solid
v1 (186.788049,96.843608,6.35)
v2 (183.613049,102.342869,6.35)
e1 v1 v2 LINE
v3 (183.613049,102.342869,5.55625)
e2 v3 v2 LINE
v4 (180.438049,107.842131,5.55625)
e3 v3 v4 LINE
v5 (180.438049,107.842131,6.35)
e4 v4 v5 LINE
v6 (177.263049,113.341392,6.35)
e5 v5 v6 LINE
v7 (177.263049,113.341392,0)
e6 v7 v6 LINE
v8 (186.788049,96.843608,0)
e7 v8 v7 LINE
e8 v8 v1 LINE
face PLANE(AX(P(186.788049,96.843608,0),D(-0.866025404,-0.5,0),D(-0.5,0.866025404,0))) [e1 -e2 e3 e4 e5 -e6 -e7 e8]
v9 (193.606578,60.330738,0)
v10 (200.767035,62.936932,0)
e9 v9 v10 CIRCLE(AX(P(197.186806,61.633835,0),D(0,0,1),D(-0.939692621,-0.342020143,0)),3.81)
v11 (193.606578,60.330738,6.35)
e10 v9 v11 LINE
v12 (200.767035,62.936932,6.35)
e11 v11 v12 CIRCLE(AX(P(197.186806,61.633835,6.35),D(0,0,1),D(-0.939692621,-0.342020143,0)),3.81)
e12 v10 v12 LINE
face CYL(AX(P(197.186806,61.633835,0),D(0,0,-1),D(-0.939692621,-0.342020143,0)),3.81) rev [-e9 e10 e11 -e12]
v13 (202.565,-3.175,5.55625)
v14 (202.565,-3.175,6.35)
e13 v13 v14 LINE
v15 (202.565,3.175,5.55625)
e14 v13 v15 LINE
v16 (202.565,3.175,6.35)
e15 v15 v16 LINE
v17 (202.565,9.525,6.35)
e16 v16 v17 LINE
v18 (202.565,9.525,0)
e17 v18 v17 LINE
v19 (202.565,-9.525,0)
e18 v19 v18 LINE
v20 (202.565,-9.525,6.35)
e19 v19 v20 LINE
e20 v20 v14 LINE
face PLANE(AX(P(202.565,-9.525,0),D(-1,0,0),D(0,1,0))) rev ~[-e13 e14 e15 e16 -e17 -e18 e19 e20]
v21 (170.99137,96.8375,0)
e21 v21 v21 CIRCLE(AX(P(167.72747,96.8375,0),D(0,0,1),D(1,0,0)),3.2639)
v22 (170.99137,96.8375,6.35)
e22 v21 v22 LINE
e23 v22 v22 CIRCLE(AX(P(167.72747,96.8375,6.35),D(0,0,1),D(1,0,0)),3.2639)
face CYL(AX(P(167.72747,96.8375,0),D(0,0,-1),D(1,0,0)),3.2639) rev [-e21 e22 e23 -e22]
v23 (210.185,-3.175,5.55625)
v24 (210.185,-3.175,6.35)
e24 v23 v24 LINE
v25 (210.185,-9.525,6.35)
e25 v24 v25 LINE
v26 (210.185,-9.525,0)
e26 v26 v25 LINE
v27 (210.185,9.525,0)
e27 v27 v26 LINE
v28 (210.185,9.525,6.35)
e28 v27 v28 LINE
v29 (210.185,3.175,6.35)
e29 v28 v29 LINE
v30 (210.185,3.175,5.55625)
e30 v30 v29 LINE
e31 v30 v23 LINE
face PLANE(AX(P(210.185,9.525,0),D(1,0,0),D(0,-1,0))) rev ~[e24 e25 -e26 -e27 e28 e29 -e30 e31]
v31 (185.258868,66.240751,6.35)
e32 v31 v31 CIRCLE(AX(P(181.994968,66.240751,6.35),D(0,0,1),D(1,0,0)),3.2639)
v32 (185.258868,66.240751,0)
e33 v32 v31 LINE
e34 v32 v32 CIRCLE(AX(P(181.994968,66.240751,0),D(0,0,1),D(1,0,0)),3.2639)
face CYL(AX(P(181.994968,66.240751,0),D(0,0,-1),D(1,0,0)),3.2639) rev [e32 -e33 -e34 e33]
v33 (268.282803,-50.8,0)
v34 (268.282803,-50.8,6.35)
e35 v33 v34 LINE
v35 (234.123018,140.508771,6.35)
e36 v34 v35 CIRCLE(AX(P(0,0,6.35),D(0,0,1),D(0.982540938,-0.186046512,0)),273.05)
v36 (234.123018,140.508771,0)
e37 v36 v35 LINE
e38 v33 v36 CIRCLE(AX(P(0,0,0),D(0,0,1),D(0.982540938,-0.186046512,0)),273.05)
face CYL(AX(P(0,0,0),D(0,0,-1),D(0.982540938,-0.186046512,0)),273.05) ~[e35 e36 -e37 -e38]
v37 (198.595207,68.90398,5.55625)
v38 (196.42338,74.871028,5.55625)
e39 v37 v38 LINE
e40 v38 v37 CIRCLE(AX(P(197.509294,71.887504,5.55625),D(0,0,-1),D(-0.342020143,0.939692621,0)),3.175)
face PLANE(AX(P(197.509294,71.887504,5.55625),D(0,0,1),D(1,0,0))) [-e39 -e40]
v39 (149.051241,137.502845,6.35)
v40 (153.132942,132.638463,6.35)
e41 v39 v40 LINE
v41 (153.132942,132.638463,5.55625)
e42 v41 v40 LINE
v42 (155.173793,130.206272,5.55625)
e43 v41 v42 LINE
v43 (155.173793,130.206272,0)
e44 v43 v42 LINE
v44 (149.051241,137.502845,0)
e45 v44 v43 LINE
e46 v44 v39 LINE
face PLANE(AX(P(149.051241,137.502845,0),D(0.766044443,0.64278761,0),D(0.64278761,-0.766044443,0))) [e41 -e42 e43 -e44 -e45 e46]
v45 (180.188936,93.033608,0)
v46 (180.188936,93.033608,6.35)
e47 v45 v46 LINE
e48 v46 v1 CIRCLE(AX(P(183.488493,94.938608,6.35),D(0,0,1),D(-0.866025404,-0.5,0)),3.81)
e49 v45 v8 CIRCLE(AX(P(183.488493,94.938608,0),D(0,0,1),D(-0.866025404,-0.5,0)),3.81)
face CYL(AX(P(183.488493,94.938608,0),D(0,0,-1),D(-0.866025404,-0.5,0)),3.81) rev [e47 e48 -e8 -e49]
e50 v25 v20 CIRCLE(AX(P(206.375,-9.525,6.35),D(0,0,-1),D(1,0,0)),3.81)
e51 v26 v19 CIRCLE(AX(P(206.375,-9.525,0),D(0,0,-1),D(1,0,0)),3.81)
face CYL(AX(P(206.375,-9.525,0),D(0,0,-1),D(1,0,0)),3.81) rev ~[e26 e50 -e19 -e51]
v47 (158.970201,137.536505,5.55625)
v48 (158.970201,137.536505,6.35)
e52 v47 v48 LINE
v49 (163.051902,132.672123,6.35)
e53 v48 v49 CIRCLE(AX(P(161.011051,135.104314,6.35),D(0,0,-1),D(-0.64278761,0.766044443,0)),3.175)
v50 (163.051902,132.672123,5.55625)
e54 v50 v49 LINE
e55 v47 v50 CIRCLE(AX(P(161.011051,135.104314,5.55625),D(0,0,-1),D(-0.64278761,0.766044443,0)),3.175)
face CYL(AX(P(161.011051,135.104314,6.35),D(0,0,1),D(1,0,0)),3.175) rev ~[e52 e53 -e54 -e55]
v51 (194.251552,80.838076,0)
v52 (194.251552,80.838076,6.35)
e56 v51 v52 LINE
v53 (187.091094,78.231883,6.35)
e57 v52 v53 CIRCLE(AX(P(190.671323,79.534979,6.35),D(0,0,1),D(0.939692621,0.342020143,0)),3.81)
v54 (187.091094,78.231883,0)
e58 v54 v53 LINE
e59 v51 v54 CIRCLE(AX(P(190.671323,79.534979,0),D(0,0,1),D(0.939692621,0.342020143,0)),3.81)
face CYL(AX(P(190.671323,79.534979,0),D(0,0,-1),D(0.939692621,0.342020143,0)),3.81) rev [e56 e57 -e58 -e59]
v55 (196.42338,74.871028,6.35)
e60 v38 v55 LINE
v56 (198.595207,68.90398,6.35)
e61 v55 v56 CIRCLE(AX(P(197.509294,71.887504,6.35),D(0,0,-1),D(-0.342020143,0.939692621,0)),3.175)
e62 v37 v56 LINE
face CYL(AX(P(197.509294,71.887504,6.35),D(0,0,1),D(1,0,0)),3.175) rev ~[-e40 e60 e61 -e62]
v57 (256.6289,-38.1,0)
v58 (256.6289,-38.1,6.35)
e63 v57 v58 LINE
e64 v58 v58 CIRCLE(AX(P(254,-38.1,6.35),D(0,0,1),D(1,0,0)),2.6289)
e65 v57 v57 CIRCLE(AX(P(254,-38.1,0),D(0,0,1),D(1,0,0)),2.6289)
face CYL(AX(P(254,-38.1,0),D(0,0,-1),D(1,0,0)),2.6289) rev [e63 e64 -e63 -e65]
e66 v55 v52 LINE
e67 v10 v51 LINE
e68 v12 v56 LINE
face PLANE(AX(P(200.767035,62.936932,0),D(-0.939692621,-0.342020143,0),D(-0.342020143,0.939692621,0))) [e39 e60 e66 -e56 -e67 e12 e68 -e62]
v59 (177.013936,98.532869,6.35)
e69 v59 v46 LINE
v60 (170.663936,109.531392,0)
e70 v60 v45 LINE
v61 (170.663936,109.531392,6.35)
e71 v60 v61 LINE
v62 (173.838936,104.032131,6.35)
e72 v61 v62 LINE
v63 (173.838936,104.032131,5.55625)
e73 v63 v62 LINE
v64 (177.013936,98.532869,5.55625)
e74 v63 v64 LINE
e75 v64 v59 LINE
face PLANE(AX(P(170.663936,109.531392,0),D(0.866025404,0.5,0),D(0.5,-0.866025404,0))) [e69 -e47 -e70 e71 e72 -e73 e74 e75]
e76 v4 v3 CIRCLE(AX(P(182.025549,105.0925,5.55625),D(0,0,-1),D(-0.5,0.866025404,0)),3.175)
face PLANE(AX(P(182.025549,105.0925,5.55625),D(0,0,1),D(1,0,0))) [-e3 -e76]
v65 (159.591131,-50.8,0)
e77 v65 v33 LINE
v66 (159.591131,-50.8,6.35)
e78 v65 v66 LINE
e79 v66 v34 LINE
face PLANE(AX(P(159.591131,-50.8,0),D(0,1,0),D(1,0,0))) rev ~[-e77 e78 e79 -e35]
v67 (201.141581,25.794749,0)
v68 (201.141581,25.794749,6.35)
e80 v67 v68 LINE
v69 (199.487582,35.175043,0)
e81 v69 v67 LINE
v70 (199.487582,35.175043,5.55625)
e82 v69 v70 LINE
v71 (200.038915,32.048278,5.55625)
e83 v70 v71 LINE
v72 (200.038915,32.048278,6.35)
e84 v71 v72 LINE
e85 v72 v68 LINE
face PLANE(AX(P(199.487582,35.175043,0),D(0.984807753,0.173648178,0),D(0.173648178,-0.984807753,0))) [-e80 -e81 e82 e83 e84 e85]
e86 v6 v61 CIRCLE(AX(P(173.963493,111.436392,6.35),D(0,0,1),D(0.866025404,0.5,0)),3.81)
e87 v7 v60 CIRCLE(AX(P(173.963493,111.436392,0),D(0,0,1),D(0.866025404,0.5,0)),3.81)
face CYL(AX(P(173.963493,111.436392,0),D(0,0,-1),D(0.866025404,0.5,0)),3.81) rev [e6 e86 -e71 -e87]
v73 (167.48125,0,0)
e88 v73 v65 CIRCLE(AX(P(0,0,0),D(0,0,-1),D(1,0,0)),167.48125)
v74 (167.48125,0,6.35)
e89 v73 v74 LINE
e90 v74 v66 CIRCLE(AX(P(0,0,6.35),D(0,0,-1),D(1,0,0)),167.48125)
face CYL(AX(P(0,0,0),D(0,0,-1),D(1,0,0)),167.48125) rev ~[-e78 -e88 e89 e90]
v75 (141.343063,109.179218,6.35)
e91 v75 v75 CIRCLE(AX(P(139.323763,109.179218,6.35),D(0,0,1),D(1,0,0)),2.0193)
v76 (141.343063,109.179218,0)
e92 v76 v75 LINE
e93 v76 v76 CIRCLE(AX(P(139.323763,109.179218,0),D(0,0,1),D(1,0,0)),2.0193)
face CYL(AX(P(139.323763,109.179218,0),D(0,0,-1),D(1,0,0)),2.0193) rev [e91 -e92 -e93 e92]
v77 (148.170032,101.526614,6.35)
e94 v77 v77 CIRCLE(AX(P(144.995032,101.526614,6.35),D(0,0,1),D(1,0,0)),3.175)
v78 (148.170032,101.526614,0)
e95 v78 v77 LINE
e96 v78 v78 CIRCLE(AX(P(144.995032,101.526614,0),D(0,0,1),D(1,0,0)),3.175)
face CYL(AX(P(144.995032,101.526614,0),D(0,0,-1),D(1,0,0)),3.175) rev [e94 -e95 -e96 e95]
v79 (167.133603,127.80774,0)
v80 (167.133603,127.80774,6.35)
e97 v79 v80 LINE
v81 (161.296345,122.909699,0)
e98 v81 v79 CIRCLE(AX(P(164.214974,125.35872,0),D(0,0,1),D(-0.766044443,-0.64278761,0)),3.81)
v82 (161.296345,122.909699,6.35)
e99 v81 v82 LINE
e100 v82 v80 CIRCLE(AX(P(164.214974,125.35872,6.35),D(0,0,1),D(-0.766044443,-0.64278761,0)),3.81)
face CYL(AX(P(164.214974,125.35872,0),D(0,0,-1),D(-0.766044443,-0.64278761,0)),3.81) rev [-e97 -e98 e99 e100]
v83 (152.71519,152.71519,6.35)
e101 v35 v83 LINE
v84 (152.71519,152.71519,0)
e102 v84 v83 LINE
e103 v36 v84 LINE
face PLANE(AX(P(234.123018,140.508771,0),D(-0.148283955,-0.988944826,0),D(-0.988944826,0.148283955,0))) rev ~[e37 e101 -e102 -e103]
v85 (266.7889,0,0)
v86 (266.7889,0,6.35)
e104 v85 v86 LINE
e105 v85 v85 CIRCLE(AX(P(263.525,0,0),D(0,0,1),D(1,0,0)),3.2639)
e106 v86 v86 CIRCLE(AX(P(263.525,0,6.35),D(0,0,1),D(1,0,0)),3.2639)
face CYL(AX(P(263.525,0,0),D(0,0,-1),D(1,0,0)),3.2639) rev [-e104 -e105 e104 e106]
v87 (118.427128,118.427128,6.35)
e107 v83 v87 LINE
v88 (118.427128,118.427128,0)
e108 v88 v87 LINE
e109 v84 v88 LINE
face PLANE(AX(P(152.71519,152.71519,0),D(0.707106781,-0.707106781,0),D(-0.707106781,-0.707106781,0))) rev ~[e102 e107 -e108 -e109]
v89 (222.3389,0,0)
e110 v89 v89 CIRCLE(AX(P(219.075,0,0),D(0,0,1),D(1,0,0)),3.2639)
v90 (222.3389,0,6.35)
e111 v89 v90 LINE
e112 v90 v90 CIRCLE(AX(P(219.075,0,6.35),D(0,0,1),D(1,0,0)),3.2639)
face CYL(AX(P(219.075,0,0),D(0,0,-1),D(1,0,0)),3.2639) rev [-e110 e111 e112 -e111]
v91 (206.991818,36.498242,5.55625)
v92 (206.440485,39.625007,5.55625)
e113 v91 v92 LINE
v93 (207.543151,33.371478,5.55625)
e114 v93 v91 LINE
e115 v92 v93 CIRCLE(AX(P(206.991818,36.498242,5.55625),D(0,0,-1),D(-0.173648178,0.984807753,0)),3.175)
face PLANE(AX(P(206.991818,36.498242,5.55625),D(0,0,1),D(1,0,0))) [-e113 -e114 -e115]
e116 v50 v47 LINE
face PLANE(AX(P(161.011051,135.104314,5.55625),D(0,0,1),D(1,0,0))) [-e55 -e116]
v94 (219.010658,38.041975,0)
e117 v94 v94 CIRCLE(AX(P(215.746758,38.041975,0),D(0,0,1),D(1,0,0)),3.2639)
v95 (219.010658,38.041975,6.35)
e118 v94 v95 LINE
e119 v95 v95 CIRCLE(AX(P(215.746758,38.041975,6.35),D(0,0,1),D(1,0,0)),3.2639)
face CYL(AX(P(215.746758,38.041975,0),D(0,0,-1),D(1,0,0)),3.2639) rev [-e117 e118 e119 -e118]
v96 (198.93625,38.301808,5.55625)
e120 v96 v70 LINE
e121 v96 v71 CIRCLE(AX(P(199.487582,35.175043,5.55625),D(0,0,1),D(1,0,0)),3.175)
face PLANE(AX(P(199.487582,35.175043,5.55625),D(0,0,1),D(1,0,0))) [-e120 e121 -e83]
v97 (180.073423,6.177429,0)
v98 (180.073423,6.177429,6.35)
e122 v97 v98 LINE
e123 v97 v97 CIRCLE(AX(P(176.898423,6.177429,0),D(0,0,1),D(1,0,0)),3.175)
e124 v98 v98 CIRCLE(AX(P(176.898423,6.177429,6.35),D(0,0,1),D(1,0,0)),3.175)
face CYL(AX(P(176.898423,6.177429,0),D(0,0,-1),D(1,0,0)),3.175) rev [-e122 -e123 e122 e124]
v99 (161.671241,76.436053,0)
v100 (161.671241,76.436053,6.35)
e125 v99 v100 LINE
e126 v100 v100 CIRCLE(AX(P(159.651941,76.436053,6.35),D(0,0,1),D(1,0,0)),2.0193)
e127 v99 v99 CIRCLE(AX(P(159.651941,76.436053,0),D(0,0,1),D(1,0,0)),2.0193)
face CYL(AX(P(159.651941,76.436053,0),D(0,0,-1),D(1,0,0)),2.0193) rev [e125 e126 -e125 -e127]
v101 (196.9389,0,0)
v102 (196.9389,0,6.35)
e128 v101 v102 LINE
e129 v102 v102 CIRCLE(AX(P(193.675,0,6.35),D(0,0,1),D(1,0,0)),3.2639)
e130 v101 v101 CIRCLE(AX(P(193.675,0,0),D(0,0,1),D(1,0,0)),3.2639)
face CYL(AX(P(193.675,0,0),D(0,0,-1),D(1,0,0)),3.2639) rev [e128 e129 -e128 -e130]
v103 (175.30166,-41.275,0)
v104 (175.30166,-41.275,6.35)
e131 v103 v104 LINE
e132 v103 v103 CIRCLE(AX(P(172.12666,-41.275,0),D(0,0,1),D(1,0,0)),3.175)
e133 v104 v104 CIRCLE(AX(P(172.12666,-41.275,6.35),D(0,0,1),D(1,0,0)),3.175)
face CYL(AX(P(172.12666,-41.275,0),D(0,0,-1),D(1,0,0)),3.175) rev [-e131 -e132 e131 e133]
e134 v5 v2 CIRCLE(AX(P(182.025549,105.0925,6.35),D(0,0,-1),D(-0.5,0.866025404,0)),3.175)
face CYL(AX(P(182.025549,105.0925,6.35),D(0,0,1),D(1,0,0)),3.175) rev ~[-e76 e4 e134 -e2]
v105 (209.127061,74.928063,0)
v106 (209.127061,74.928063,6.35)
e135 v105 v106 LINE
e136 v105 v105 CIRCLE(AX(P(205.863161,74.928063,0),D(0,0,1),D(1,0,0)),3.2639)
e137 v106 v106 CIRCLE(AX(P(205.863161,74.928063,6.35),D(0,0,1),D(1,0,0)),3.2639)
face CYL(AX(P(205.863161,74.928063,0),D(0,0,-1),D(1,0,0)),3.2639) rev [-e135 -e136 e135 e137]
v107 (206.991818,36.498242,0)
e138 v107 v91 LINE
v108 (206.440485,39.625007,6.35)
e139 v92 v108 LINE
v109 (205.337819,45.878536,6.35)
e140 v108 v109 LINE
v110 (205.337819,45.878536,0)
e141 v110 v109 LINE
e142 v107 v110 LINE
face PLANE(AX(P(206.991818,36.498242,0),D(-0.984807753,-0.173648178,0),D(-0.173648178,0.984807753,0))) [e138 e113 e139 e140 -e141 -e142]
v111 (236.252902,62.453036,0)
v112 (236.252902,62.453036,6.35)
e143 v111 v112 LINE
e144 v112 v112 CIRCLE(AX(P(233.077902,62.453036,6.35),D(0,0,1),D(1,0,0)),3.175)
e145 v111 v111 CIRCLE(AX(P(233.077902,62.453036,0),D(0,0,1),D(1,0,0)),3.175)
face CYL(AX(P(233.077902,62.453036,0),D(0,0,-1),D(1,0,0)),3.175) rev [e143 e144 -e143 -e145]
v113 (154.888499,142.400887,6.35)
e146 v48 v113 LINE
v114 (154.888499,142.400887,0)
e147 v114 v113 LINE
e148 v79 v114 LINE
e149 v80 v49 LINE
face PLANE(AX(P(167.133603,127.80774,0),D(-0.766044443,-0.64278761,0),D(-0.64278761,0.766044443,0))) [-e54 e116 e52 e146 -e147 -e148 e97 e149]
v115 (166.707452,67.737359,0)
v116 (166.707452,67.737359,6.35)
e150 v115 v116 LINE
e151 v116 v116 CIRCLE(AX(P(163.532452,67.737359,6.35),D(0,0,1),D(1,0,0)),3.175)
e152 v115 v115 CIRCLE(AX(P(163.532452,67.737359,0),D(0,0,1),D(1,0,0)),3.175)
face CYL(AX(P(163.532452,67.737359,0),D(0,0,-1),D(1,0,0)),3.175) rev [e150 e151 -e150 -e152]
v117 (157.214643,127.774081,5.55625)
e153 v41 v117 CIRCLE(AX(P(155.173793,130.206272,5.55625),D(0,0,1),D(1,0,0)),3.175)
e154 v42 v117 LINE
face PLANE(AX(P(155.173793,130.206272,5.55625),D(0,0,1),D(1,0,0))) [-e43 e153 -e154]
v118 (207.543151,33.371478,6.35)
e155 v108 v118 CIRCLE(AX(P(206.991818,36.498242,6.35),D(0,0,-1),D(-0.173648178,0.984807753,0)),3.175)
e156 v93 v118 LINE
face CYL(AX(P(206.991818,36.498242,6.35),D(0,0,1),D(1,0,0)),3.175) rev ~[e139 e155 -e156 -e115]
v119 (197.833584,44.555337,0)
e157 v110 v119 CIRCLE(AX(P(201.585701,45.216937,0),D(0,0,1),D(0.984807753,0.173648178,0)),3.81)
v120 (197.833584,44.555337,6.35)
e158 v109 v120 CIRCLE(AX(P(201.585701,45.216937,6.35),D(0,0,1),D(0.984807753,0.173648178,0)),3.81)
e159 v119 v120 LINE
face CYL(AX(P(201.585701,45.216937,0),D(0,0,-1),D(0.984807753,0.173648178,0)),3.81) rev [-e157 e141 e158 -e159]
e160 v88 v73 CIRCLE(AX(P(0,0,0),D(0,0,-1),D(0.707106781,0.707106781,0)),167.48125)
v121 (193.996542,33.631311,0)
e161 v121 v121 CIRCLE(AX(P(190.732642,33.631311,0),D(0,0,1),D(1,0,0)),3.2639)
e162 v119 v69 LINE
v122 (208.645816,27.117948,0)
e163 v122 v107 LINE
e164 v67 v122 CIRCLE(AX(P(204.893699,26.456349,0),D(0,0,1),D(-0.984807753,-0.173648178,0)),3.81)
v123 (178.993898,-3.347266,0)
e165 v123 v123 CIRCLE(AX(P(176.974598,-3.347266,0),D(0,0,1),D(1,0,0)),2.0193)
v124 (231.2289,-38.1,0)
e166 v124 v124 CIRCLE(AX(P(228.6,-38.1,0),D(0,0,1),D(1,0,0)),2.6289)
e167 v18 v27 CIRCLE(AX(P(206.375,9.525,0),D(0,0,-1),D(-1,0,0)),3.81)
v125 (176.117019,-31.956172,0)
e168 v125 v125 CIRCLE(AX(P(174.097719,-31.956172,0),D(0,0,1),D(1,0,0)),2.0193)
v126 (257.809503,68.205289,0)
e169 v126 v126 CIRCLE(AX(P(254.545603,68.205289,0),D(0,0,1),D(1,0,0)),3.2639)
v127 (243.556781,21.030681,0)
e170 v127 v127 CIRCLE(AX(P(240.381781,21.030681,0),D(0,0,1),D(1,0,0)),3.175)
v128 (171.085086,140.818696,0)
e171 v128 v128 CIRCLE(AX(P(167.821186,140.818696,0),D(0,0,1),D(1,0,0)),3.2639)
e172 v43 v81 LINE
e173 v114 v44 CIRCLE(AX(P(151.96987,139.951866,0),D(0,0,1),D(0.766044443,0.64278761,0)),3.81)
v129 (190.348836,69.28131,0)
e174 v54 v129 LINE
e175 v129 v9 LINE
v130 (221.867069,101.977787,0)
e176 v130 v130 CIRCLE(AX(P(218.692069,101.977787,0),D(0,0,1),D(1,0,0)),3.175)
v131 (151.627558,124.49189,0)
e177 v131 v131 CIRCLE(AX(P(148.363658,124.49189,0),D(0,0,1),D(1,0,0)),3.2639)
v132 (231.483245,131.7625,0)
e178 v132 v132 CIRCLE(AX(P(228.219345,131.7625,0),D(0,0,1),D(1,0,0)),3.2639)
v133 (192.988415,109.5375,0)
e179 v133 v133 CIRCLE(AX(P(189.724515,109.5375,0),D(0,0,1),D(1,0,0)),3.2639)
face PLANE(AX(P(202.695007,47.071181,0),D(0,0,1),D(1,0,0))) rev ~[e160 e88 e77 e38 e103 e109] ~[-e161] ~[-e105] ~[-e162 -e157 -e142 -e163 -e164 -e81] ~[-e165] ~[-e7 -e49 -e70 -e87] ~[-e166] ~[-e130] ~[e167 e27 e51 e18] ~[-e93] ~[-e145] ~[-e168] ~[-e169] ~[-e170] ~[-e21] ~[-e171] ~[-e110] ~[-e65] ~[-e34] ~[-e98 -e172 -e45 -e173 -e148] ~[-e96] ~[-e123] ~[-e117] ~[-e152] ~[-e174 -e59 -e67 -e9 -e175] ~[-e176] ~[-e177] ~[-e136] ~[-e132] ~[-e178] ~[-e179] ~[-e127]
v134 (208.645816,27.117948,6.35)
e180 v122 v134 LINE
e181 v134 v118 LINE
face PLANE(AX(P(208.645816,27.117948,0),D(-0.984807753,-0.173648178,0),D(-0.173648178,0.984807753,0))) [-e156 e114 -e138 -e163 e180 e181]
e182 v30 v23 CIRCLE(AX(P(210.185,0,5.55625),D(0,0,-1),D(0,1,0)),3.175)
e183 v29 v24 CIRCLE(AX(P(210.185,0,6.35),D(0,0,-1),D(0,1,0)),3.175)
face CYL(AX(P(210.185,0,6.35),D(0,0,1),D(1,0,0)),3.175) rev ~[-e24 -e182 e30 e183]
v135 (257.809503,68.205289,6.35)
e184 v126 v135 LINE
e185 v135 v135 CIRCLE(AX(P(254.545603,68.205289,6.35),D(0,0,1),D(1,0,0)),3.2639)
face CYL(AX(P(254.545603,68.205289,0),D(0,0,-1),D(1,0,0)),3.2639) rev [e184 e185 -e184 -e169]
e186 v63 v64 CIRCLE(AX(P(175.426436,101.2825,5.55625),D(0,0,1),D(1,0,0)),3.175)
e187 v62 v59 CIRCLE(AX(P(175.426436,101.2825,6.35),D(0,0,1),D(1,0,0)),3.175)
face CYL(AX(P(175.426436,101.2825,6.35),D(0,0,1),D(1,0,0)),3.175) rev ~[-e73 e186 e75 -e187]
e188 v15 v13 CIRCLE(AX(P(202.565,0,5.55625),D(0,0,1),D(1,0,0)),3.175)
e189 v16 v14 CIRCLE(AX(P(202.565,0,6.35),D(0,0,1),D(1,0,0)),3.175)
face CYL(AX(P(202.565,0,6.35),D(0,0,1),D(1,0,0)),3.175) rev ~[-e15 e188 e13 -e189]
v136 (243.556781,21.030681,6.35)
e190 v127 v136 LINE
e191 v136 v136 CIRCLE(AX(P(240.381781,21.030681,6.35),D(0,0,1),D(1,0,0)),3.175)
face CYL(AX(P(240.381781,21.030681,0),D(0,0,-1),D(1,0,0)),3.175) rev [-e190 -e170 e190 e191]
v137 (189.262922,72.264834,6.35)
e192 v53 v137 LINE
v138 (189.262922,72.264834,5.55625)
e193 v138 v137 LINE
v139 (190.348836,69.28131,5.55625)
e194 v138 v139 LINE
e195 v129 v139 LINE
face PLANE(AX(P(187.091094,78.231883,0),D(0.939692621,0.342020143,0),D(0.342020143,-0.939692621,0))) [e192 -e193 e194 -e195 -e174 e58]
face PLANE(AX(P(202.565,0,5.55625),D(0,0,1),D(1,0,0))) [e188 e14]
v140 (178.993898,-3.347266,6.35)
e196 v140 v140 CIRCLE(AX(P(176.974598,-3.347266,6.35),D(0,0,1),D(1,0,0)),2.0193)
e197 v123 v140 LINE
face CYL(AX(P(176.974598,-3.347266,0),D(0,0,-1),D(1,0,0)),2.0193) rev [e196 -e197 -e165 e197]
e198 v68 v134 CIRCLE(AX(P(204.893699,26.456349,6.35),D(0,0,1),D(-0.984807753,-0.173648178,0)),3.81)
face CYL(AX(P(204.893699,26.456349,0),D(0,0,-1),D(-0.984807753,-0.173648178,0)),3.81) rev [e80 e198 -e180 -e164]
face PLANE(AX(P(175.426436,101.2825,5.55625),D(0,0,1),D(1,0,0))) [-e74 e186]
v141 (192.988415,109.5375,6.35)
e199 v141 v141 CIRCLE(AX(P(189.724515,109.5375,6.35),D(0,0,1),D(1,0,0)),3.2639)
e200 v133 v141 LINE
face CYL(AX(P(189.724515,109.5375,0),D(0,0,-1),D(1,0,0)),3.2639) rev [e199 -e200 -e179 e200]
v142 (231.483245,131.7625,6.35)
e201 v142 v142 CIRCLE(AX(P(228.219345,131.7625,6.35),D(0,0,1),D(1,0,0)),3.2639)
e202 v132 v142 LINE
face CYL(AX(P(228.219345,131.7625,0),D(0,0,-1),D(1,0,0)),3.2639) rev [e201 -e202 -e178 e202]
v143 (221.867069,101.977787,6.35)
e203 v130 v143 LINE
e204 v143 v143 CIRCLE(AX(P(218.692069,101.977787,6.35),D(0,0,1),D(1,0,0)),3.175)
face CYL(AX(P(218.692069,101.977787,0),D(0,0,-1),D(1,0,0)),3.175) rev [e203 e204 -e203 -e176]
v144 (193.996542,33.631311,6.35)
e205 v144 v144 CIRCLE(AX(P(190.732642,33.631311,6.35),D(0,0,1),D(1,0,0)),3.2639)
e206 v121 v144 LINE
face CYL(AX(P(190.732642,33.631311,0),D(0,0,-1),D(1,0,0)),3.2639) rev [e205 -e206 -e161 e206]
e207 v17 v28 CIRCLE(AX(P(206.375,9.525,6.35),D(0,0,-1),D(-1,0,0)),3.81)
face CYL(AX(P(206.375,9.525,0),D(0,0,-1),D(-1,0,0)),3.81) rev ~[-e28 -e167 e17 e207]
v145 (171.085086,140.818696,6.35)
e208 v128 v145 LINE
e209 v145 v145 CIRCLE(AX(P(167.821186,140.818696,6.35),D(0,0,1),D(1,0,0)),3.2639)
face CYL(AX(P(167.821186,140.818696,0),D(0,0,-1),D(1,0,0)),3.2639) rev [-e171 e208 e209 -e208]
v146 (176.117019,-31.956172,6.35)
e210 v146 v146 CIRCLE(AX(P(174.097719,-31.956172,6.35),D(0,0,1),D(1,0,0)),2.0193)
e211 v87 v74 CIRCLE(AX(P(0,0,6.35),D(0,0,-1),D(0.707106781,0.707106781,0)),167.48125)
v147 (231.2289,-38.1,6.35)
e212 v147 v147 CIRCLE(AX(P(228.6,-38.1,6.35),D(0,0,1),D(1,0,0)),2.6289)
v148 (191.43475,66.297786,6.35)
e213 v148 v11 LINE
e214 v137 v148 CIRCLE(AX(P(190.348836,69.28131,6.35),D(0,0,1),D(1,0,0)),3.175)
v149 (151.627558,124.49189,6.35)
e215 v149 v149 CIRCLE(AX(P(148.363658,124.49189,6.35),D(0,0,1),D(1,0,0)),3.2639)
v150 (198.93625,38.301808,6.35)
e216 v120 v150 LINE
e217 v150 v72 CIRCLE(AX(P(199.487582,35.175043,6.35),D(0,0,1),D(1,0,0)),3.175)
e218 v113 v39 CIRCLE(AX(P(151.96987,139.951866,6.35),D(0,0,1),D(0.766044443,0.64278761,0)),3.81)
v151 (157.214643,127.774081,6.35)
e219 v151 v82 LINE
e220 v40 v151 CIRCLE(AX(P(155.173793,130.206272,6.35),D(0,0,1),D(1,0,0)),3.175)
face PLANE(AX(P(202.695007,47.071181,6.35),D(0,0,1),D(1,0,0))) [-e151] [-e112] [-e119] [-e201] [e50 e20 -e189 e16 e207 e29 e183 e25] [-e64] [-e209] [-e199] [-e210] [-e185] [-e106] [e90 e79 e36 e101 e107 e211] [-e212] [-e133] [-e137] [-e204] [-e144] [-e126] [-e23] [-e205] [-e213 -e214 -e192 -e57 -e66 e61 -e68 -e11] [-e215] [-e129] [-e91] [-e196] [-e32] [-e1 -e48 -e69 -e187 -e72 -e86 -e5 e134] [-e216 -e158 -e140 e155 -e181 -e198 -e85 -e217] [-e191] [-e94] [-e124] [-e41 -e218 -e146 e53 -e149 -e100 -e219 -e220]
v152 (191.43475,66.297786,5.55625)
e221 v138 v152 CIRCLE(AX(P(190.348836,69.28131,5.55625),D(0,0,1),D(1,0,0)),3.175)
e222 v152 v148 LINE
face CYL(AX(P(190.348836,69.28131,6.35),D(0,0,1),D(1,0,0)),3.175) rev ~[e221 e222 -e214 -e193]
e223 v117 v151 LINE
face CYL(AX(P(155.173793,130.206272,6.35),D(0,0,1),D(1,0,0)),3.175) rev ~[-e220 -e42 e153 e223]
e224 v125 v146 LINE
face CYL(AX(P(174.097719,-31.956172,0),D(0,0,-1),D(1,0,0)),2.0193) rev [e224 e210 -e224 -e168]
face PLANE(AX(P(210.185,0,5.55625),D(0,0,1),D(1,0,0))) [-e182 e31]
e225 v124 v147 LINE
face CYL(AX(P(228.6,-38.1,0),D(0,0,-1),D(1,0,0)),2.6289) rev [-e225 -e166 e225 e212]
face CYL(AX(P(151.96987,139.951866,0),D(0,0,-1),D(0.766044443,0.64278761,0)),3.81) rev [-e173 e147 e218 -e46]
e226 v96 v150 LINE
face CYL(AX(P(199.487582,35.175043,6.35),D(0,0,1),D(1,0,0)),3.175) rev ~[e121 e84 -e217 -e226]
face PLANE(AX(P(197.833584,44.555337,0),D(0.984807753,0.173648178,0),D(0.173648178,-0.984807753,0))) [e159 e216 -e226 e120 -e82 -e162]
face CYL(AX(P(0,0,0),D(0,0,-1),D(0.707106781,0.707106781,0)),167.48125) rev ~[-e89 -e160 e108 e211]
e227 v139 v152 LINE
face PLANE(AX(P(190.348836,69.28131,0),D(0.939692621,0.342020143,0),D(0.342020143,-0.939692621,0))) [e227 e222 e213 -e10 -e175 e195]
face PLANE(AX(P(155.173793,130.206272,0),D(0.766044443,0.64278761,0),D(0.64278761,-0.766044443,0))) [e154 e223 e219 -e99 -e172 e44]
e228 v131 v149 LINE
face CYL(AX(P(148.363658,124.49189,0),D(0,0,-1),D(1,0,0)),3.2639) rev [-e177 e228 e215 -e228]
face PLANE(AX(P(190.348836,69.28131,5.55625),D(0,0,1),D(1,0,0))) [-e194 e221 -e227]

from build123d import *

# Parameters (mm, degrees)
SKETCH1_R           = 3.175
SKETCH1_R_2         = 3.2639
SKETCH1_R_3         = 2.6289
SKETCH1_R_4         = 2.0193
BOSS_EXTRUDE1_DEPTH = 6.35
SKETCH2_R           = 3.175
CUT_EXTRUDE1_DEPTH  = 0.79375


with BuildPart() as part:
    # Sketch1 → Boss-Extrude1 (new body)
    with BuildSketch(Plane.XY):
        with BuildLine():
            Line((159.591131024, -50.8), (268.282803213, -50.8))
            ThreePointArc((268.282803213, -50.8), (268.798556268, 47.996235774), (234.123018172, 140.508771477))
            Line((234.123018172, 140.508771477), (152.715190262, 152.715190262))
            Line((152.715190262, 152.715190262), (118.427127597, 118.427127597))
            ThreePointArc((118.427127597, 118.427127597), (154.732498954, 64.092299607), (167.48125, 0))
            ThreePointArc((167.48125, 0), (165.496965553, -25.70454229), (159.591131024, -50.8))
        make_face()
        with Locations((176.898422575, 6.177429038)):
            Circle(SKETCH1_R, mode=Mode.SUBTRACT)
        with Locations((144.995031539, 101.526614087)):
            Circle(SKETCH1_R, mode=Mode.SUBTRACT)
        with Locations((163.532451502, 67.7373593)):
            Circle(SKETCH1_R, mode=Mode.SUBTRACT)
        with Locations((172.12665951, -41.275)):
            Circle(SKETCH1_R, mode=Mode.SUBTRACT)
        with Locations((193.675, 0)):
            Circle(SKETCH1_R_2, mode=Mode.SUBTRACT)
        with Locations((219.075, 0)):
            Circle(SKETCH1_R_2, mode=Mode.SUBTRACT)
        with Locations((215.746758491, 38.041974522)):
            Circle(SKETCH1_R_2, mode=Mode.SUBTRACT)
        with Locations((190.732641565, 33.63131081)):
            Circle(SKETCH1_R_2, mode=Mode.SUBTRACT)
        with Locations((205.863160899, 74.928062899)):
            Circle(SKETCH1_R_2, mode=Mode.SUBTRACT)
        with Locations((181.994968331, 66.240751259)):
            Circle(SKETCH1_R_2, mode=Mode.SUBTRACT)
        with Locations((189.724515334, 109.5375)):
            Circle(SKETCH1_R_2, mode=Mode.SUBTRACT)
        with Locations((167.727470078, 96.8375)):
            Circle(SKETCH1_R_2, mode=Mode.SUBTRACT)
        with Locations((167.821186376, 140.818695592)):
            Circle(SKETCH1_R_2, mode=Mode.SUBTRACT)
        with Locations((148.363657521, 124.491890306)):
            Circle(SKETCH1_R_2, mode=Mode.SUBTRACT)
        with Locations((263.525, 0)):
            Circle(SKETCH1_R_2, mode=Mode.SUBTRACT)
        with Locations((254.545603373, 68.205288861)):
            Circle(SKETCH1_R_2, mode=Mode.SUBTRACT)
        with Locations((228.219344532, 131.7625)):
            Circle(SKETCH1_R_2, mode=Mode.SUBTRACT)
        with Locations((240.38178065, 21.030680725)):
            Circle(SKETCH1_R, mode=Mode.SUBTRACT)
        with Locations((233.077901884, 62.453035583)):
            Circle(SKETCH1_R, mode=Mode.SUBTRACT)
        with Locations((218.692069012, 101.977786558)):
            Circle(SKETCH1_R, mode=Mode.SUBTRACT)
        with Locations((228.6, -38.1)):
            Circle(SKETCH1_R_3, mode=Mode.SUBTRACT)
        with Locations((254, -38.1)):
            Circle(SKETCH1_R_3, mode=Mode.SUBTRACT)
        with Locations((159.651941396, 76.436052669)):
            Circle(SKETCH1_R_4, mode=Mode.SUBTRACT)
        with Locations((139.323763183, 109.179217581)):
            Circle(SKETCH1_R_4, mode=Mode.SUBTRACT)
        with Locations((176.974598028, -3.347266353)):
            Circle(SKETCH1_R_4, mode=Mode.SUBTRACT)
        with Locations((174.097718528, -31.956172212)):
            Circle(SKETCH1_R_4, mode=Mode.SUBTRACT)
        with BuildLine():
            Line((202.565, 0), (202.565, 9.525))
            ThreePointArc((202.565, 9.525), (206.375, 13.335), (210.185, 9.525))
            Line((210.185, 9.525), (210.185, 0))
            Line((210.185, 0), (210.185, -9.525))
            ThreePointArc((210.185, -9.525), (206.375, -13.335), (202.565, -9.525))
            Line((202.565, -9.525), (202.565, 0))
        make_face(mode=Mode.SUBTRACT)
        with BuildLine():
            Line((199.487582489, 35.175043109), (201.141581381, 25.794749262))
            ThreePointArc((201.141581381, 25.794749262), (205.555298477, 22.70423128), (208.645816459, 27.117948375))
            Line((208.645816459, 27.117948375), (206.991817567, 36.498242223))
            Line((206.991817567, 36.498242223), (205.337818675, 45.87853607))
            ThreePointArc((205.337818675, 45.87853607), (200.924101579, 48.969054052), (197.833583597, 44.555336957))
            Line((197.833583597, 44.555336957), (199.487582489, 35.175043109))
        make_face(mode=Mode.SUBTRACT)
        with BuildLine():
            Line((190.348835729, 69.281310333), (193.606577595, 60.33073812))
            ThreePointArc((193.606577595, 60.33073812), (198.489903226, 58.053605981), (200.767035365, 62.936931612))
            Line((200.767035365, 62.936931612), (197.5092935, 71.887503825))
            Line((197.5092935, 71.887503825), (194.251551635, 80.838076038))
            ThreePointArc((194.251551635, 80.838076038), (189.368226003, 83.115208177), (187.091093864, 78.231882546))
            Line((187.091093864, 78.231882546), (190.348835729, 69.281310333))
        make_face(mode=Mode.SUBTRACT)
        with BuildLine():
            Line((175.426435918, 101.2825), (180.188935918, 93.033608029))
            ThreePointArc((180.188935918, 93.033608029), (185.393492706, 91.639051241), (186.788049494, 96.843608029))
            Line((186.788049494, 96.843608029), (182.025549494, 105.0925))
            Line((182.025549494, 105.0925), (177.263049494, 113.341391971))
            ThreePointArc((177.263049494, 113.341391971), (172.058492706, 114.735948759), (170.663935918, 109.531391971))
            Line((170.663935918, 109.531391971), (175.426435918, 101.2825))
        make_face(mode=Mode.SUBTRACT)
        with BuildLine():
            Line((155.17379262, 130.206272156), (161.296344603, 122.909698835))
            ThreePointArc((161.296344603, 122.909698835), (166.663994724, 122.4400903), (167.133603259, 127.807740421))
            Line((167.133603259, 127.807740421), (161.011051277, 135.104313742))
            Line((161.011051277, 135.104313742), (154.888499295, 142.400887063))
            ThreePointArc((154.888499295, 142.400887063), (149.520849174, 142.870495598), (149.051240638, 137.502845477))
            Line((149.051240638, 137.502845477), (155.17379262, 130.206272156))
        make_face(mode=Mode.SUBTRACT)
    extrude(amount=BOSS_EXTRUDE1_DEPTH)

    # Sketch2 → Cut-Extrude1 (cut)
    with BuildSketch(Plane.XY.offset(6.35)):
        with Locations((202.565, 0)):
            Circle(SKETCH2_R)
        with Locations((210.185, 0)):
            Circle(SKETCH2_R)
        with Locations((199.487582489, 35.175043109)):
            Circle(SKETCH2_R)
        with Locations((206.991817567, 36.498242223)):
            Circle(SKETCH2_R)
        with Locations((190.348835729, 69.281310333)):
            Circle(SKETCH2_R)
        with Locations((197.5092935, 71.887503825)):
            Circle(SKETCH2_R)
        with Locations((175.426435918, 101.2825)):
            Circle(SKETCH2_R)
        with Locations((182.025549494, 105.0925)):
            Circle(SKETCH2_R)
        with Locations((155.17379262, 130.206272156)):
            Circle(SKETCH2_R)
        with Locations((161.011051277, 135.104313742)):
            Circle(SKETCH2_R)
    extrude(amount=-CUT_EXTRUDE1_DEPTH, mode=Mode.SUBTRACT)


solid = part.part
